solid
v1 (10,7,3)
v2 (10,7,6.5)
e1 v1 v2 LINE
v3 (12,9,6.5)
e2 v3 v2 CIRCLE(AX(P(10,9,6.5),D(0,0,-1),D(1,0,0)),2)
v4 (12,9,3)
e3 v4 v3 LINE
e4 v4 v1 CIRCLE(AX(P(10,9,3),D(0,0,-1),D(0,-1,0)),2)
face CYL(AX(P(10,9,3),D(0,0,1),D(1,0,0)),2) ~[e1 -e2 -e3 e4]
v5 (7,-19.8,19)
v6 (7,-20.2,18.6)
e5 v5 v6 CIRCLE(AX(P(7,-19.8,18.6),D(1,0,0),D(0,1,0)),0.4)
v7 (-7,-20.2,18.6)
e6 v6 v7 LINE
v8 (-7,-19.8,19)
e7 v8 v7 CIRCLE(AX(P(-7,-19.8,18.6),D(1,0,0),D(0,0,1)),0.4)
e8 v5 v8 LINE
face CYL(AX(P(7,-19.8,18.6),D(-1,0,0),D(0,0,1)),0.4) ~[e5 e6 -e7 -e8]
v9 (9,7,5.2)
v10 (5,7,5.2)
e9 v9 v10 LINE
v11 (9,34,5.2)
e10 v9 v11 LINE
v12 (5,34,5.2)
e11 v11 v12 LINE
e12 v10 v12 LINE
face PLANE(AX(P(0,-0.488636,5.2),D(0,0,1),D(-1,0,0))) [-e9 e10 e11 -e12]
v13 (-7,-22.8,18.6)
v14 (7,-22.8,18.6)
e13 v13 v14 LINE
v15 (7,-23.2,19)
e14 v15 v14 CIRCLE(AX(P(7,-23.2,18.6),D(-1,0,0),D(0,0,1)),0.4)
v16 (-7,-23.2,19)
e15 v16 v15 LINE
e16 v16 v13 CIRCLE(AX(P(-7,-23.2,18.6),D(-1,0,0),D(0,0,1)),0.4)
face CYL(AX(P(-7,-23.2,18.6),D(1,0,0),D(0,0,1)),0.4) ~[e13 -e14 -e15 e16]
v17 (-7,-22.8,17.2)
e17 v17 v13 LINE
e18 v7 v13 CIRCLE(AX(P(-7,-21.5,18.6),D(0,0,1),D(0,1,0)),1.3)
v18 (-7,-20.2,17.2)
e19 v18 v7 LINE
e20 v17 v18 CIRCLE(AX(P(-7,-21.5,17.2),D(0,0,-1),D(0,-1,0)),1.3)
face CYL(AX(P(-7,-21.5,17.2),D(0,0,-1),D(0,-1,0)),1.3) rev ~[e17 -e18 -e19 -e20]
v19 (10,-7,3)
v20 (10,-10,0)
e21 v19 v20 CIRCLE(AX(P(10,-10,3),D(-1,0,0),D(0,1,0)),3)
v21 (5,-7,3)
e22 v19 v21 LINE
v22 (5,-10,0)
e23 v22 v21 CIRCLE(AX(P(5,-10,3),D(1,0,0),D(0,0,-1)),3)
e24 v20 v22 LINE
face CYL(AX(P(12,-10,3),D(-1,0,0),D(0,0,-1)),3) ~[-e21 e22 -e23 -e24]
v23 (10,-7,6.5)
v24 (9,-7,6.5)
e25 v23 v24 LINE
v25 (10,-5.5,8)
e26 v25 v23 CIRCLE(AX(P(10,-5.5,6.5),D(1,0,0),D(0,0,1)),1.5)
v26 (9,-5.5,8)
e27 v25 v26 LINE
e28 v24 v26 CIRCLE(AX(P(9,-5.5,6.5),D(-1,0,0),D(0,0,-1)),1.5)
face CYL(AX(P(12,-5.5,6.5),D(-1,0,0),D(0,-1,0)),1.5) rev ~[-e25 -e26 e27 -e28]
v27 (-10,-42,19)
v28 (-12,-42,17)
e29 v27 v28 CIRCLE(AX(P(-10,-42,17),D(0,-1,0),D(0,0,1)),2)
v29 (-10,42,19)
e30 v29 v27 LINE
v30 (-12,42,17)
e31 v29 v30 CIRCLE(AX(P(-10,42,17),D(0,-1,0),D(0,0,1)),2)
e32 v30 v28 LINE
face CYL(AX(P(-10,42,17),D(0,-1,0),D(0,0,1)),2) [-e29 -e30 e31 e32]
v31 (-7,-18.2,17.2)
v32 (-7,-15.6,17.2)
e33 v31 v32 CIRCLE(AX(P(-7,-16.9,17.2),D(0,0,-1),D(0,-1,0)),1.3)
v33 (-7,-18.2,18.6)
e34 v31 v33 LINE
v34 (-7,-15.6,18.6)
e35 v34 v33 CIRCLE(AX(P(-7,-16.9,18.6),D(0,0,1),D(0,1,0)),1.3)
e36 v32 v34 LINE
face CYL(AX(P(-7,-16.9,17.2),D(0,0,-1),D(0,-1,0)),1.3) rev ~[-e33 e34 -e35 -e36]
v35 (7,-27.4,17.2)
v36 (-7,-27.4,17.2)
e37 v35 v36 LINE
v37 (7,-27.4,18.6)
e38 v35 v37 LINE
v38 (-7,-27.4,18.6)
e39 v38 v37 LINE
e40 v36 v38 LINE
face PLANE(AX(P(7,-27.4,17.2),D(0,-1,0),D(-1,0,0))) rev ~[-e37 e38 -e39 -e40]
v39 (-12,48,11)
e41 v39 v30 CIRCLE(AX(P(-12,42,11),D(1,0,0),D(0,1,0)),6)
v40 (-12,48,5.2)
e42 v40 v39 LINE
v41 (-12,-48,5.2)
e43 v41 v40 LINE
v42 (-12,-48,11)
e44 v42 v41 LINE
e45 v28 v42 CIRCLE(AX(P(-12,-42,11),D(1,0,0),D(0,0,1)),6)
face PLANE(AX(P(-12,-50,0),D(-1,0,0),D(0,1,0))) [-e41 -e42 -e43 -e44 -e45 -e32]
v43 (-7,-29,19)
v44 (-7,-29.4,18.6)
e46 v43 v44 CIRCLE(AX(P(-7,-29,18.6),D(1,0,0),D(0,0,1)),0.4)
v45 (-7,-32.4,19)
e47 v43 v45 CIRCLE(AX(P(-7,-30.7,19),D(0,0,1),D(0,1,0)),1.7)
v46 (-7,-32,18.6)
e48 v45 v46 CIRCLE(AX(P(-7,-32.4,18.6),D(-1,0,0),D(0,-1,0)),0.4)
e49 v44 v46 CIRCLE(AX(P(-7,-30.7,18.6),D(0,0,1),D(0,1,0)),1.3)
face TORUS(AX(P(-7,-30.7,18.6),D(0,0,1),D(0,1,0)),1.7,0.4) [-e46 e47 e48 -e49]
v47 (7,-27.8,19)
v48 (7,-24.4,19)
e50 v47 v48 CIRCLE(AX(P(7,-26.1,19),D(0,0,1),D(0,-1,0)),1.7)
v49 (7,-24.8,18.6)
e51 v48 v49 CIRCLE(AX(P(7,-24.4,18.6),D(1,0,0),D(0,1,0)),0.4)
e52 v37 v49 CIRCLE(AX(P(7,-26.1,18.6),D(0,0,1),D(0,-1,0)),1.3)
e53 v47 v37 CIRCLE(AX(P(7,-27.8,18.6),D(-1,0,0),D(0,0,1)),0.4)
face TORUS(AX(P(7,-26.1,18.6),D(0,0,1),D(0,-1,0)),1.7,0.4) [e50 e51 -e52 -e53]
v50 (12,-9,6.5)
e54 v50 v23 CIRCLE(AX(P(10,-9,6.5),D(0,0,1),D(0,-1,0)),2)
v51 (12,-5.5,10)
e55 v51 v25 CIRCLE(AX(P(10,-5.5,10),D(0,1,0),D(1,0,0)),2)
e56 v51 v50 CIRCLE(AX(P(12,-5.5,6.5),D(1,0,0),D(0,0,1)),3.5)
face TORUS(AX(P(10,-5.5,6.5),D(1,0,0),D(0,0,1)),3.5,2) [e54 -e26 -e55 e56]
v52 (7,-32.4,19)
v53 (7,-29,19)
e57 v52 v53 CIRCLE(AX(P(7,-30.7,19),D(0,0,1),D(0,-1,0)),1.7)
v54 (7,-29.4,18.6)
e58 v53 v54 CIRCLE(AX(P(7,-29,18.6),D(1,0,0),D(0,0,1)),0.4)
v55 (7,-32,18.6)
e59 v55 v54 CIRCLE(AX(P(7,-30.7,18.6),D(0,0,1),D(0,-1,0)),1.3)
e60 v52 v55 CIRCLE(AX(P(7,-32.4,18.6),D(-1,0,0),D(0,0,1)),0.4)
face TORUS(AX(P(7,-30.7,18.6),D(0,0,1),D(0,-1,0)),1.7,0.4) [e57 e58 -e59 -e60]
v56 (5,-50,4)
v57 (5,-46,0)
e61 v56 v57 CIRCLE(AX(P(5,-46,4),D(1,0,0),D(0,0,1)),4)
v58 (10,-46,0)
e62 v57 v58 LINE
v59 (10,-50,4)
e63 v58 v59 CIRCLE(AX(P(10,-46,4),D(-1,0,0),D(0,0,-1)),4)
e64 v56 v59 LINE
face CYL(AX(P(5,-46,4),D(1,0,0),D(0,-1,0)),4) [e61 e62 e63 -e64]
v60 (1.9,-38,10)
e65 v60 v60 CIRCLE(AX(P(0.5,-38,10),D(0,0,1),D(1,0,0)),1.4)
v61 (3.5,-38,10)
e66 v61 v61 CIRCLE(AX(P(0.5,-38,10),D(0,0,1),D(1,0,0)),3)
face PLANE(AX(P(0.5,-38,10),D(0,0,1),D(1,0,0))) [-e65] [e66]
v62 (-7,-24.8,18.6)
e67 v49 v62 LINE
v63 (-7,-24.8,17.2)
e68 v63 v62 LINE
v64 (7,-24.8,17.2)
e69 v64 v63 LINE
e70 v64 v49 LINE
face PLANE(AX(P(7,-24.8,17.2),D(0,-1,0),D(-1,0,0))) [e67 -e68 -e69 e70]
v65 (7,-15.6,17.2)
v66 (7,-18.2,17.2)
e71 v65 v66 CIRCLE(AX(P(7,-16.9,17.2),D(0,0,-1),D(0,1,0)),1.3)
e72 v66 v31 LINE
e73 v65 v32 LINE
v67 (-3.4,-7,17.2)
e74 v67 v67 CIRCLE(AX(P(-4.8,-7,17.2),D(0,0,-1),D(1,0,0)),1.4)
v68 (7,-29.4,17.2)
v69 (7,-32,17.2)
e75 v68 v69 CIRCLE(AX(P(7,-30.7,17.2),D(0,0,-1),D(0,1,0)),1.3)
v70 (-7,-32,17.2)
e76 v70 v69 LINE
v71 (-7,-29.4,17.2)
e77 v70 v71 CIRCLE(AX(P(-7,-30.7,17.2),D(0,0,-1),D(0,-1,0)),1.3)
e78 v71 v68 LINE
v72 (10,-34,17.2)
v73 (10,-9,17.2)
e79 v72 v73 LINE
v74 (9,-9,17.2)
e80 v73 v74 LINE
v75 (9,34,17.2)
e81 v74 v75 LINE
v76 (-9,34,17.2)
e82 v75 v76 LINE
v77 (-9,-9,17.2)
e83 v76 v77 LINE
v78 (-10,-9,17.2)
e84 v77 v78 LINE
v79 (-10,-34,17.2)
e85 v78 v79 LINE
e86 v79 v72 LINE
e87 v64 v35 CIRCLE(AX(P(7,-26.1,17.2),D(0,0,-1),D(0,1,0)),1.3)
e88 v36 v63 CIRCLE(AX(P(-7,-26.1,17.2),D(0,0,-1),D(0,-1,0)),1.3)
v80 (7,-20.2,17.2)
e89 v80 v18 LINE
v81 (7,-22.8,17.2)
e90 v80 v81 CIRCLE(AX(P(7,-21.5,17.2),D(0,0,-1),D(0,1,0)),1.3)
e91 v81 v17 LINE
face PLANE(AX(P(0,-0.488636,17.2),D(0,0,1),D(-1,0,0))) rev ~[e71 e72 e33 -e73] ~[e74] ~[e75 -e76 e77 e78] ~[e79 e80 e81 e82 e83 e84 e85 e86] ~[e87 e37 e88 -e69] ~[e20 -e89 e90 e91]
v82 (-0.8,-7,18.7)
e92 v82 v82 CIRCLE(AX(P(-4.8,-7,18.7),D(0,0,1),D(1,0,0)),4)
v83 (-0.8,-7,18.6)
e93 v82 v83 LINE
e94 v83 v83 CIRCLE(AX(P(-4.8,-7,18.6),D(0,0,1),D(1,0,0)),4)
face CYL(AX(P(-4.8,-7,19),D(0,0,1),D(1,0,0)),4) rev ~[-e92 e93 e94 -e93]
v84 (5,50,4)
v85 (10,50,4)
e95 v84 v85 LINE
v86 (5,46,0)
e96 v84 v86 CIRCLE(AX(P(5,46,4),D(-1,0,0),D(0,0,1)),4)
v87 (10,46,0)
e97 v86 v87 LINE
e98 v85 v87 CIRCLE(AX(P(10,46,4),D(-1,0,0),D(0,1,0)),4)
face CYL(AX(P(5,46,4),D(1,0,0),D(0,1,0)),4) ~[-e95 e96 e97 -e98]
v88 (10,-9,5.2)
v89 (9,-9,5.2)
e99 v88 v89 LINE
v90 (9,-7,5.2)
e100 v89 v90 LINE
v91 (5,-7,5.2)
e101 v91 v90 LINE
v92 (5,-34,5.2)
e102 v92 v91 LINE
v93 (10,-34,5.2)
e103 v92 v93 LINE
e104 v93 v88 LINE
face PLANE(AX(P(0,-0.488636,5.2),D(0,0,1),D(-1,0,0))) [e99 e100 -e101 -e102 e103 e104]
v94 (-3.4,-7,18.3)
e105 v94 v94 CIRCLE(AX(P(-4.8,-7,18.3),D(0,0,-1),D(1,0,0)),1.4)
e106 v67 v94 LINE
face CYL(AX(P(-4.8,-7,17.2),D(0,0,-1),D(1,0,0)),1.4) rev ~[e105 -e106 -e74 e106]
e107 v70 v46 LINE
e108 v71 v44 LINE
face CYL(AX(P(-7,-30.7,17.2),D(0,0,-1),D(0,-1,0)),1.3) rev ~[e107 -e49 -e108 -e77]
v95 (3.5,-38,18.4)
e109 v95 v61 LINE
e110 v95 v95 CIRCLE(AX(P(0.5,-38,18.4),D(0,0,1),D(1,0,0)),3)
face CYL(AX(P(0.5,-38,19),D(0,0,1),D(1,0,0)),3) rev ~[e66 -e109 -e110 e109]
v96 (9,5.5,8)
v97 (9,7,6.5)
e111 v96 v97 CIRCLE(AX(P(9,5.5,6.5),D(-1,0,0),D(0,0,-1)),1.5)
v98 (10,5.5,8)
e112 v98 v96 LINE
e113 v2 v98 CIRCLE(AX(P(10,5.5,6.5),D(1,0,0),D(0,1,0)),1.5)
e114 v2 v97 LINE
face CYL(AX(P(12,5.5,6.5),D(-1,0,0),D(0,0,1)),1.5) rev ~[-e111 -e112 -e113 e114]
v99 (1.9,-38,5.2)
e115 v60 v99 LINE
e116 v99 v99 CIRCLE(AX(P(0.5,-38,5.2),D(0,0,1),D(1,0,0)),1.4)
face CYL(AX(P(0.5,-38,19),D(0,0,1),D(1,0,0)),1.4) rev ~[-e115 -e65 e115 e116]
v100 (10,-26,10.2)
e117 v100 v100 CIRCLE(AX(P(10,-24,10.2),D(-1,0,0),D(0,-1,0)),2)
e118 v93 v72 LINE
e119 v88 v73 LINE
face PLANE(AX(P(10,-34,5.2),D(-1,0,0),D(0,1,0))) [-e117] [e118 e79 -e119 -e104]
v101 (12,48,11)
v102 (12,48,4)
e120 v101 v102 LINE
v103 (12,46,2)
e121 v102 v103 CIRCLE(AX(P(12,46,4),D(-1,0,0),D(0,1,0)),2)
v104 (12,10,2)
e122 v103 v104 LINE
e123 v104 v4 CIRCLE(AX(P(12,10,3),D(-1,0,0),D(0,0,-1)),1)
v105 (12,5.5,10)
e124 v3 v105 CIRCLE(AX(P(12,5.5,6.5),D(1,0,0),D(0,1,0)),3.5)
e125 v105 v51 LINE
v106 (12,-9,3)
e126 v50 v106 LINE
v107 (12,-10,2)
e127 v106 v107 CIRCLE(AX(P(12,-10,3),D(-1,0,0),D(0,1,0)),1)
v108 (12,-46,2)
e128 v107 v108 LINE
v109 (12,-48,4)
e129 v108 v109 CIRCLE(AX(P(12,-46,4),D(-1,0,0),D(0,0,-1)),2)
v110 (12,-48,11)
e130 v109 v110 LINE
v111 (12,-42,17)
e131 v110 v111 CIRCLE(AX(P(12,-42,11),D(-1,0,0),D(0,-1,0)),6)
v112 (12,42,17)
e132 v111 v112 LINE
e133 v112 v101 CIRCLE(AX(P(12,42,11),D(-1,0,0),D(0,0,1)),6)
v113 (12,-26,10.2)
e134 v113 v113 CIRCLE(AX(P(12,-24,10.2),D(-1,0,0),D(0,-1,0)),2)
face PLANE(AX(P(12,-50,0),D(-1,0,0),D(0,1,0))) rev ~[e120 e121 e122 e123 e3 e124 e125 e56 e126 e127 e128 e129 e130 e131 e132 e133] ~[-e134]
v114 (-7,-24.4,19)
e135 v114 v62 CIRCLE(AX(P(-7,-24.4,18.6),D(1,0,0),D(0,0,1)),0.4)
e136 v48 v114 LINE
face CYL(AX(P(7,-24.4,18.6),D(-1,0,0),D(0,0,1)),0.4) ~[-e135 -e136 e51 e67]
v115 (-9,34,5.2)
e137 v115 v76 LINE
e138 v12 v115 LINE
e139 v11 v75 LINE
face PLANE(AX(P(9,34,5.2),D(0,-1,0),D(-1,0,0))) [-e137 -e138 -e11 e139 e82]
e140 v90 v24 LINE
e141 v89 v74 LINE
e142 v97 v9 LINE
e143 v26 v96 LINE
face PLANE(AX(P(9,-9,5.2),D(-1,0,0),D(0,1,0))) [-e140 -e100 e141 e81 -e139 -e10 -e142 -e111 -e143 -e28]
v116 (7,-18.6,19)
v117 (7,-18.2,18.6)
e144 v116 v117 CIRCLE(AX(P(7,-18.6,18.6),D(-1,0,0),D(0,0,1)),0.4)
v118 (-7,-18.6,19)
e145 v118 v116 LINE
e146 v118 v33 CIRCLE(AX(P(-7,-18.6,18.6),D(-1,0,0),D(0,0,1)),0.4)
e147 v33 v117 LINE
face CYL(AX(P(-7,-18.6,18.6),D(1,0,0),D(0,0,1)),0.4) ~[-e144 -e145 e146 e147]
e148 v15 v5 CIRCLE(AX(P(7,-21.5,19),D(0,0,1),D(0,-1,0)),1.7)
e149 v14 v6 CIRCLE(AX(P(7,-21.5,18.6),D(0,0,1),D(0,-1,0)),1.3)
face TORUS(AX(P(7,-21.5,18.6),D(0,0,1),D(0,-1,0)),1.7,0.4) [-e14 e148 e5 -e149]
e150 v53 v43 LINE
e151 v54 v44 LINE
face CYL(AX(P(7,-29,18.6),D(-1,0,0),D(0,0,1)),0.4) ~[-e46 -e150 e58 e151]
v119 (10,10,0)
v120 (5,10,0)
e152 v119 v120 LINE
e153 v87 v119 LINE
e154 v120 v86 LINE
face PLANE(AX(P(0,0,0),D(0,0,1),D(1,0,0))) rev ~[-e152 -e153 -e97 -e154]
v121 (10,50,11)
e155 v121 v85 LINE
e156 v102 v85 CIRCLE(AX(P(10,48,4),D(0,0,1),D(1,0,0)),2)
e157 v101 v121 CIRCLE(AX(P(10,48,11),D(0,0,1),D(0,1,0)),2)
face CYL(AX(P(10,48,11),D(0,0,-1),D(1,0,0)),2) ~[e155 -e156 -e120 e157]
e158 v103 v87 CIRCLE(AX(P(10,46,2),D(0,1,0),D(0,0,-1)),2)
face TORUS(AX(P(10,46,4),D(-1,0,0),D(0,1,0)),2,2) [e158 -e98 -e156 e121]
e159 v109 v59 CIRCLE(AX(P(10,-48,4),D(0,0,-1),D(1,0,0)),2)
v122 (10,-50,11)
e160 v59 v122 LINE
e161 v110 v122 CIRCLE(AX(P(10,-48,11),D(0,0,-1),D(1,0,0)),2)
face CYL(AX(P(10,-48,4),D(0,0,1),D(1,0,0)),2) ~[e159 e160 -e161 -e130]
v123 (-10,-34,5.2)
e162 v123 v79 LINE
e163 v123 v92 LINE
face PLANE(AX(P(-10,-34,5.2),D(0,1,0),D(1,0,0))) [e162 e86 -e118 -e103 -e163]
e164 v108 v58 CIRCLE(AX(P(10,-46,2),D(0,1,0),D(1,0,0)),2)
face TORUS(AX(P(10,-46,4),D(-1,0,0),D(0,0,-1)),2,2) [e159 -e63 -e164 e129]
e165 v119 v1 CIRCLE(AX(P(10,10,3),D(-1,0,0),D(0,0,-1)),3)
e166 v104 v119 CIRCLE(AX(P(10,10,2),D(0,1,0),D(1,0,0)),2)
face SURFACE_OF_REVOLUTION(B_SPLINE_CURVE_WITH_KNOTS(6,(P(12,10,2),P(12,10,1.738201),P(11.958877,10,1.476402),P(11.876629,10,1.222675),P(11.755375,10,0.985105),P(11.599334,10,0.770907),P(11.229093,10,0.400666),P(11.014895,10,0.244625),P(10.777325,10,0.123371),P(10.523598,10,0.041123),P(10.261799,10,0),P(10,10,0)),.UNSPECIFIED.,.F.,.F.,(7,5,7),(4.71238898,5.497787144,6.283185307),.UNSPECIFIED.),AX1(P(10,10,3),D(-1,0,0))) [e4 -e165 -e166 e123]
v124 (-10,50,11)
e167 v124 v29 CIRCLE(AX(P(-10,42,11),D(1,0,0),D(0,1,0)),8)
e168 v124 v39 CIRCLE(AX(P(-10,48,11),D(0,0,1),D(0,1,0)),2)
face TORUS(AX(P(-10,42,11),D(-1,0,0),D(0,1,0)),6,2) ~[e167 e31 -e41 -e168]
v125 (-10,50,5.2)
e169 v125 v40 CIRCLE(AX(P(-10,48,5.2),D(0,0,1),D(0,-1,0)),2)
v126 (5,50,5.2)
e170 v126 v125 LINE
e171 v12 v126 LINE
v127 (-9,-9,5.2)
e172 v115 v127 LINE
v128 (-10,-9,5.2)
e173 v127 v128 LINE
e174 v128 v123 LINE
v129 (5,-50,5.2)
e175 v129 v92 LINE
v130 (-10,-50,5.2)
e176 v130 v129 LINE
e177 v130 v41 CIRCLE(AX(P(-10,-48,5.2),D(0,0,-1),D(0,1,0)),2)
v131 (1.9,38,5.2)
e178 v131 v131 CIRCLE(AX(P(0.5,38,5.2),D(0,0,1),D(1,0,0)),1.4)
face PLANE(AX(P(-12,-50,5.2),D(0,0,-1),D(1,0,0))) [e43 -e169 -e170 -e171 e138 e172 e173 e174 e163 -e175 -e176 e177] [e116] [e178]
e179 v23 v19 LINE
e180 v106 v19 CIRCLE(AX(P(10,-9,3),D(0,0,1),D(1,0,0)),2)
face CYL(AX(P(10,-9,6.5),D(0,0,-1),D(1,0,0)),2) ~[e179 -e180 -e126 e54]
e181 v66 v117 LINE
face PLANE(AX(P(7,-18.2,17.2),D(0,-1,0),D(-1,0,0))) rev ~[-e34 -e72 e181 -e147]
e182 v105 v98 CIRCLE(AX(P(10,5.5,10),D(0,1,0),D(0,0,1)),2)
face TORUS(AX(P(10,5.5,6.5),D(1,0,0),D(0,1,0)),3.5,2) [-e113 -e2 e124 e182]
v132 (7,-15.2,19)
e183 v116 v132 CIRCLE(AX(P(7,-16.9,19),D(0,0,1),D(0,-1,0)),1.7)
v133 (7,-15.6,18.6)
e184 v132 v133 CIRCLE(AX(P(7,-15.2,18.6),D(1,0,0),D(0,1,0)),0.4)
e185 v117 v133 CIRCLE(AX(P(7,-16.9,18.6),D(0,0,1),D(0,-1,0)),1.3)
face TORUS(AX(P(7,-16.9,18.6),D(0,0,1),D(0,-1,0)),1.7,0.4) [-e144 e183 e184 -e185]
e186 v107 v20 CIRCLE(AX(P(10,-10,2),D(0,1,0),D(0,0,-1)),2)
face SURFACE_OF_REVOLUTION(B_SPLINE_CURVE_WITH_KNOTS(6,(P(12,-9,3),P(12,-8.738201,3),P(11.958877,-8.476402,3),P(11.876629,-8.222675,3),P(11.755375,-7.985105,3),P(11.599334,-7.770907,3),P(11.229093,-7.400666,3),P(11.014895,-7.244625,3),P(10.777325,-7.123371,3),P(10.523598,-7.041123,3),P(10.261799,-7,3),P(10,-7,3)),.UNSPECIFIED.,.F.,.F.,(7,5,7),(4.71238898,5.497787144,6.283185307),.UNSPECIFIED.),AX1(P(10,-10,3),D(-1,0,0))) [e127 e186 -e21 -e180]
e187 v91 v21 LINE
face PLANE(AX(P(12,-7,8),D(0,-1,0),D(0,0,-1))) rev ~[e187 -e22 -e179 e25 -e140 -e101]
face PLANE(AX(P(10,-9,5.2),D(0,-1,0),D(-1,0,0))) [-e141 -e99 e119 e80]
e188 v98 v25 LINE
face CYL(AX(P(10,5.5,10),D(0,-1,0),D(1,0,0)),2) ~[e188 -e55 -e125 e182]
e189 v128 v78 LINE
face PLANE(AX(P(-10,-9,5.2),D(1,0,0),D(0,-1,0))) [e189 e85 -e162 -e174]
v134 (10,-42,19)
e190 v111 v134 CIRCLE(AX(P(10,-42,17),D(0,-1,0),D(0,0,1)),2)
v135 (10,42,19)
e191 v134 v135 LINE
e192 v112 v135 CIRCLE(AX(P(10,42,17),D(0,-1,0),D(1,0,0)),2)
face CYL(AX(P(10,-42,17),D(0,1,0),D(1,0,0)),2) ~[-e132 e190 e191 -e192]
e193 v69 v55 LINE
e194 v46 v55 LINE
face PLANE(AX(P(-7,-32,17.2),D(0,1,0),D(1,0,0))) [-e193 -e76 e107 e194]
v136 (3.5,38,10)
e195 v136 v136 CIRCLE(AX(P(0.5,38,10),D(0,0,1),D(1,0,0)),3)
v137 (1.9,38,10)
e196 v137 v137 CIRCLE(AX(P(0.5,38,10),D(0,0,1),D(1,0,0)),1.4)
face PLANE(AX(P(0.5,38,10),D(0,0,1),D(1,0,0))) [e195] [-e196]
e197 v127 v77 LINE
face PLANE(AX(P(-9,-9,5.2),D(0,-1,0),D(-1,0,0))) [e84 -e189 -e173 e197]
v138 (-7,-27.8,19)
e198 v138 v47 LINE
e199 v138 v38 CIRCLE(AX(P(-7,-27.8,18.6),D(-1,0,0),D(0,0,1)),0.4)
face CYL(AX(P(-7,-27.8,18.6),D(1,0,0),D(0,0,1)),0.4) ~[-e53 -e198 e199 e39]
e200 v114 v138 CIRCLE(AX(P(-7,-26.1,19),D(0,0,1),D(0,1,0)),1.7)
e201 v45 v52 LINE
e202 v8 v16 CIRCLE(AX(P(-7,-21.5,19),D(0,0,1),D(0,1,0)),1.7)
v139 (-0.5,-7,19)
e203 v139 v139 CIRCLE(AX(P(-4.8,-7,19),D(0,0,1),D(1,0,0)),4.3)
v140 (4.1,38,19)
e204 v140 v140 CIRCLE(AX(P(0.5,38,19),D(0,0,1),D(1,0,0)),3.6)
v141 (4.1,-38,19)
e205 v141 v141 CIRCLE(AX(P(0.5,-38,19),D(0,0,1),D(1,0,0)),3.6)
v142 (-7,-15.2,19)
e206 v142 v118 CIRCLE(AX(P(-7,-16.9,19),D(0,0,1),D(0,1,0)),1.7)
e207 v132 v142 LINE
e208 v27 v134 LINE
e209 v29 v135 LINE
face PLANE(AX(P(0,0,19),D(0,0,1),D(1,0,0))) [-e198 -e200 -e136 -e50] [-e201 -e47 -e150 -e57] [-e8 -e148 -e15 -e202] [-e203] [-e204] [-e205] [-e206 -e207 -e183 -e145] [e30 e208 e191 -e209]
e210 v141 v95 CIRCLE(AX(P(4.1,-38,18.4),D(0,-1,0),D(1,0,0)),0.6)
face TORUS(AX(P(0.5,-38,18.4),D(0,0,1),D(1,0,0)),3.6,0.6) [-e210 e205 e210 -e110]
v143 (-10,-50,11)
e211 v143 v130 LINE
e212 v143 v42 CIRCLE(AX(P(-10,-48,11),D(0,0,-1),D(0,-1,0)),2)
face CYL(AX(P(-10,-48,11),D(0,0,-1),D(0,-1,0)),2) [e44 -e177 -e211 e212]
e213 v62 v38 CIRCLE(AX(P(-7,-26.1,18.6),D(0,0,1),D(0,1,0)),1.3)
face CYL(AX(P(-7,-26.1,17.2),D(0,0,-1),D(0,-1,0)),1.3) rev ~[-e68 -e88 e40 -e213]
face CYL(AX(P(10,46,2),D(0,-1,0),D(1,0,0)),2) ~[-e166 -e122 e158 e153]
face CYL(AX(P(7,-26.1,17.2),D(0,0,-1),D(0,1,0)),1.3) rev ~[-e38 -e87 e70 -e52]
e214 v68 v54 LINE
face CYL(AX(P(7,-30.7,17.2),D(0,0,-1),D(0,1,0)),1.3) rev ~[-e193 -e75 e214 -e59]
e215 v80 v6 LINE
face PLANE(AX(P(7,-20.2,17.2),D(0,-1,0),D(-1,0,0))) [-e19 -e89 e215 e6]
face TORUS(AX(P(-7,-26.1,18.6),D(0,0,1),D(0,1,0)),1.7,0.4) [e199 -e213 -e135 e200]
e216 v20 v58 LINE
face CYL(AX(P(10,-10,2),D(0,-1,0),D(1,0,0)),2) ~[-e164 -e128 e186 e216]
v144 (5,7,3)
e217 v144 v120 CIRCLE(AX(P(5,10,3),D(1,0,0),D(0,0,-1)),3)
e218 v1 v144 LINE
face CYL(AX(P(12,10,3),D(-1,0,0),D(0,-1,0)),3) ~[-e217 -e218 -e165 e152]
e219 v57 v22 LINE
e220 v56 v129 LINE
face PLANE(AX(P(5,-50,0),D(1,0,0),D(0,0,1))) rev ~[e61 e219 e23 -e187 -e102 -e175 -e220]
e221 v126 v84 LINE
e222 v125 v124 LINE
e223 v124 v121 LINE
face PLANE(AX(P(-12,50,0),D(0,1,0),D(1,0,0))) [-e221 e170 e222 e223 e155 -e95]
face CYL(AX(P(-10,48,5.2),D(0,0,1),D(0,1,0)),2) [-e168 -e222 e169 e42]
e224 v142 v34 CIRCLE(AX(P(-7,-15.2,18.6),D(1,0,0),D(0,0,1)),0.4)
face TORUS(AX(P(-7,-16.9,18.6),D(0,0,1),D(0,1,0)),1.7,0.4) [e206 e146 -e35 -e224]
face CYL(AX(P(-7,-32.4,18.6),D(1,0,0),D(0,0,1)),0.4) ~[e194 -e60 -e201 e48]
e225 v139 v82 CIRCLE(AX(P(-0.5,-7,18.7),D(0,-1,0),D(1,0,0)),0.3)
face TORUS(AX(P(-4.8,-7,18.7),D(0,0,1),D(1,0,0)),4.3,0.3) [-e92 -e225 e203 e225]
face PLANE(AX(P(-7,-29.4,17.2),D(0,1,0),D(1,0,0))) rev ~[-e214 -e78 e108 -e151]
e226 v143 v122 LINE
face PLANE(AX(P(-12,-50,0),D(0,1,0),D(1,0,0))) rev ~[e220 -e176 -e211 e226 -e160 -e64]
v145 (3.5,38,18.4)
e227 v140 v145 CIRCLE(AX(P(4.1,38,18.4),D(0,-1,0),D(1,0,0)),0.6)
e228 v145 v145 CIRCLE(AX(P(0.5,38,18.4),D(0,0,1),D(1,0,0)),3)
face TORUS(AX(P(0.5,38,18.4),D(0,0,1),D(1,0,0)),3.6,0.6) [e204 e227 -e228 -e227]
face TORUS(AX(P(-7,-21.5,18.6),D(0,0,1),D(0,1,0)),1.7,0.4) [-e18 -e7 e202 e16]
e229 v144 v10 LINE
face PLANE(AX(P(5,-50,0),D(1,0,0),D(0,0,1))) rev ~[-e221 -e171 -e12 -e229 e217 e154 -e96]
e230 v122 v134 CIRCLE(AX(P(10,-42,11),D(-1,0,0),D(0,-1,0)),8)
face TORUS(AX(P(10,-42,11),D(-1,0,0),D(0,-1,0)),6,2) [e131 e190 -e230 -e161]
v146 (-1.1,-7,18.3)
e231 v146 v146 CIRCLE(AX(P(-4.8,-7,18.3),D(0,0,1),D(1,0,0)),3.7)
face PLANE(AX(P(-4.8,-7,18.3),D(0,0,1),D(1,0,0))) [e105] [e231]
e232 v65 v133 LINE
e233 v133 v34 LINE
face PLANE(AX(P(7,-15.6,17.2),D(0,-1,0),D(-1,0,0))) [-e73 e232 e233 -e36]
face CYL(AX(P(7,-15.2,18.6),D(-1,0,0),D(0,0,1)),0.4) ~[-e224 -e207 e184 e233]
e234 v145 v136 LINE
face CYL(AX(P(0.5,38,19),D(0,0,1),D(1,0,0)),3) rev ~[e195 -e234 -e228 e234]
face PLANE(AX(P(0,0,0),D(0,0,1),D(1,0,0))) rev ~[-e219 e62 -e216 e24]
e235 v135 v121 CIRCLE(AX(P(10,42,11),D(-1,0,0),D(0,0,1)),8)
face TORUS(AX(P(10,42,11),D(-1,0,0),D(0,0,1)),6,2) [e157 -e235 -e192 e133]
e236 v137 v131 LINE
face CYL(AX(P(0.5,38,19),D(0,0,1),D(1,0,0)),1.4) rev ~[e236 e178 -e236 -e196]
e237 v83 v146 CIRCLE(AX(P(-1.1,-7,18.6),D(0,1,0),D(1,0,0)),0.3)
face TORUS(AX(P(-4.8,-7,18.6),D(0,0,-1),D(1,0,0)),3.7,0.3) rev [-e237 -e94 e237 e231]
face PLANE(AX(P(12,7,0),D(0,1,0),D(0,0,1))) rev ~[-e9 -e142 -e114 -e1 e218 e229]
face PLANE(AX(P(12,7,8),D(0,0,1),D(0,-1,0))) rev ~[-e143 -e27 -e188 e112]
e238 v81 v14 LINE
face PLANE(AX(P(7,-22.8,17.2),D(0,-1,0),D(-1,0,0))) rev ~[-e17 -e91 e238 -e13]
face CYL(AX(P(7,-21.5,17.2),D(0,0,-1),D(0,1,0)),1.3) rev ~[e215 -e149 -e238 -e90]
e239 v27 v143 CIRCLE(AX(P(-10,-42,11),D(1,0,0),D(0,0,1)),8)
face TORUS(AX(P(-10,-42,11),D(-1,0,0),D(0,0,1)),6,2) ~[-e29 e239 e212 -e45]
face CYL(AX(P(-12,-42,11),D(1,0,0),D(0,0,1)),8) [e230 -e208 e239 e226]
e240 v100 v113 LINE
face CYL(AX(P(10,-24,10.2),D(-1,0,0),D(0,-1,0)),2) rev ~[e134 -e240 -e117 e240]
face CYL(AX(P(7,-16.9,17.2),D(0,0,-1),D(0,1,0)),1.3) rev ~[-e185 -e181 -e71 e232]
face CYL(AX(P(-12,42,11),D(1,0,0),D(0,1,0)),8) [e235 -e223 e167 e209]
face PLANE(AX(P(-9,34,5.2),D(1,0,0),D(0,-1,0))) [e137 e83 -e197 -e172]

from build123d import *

# Parameters (mm, degrees)
SKETCH_W        = 24
SKETCH_H        = 100
PAD_DEPTH       = 19
SKETCH001_W     = 17
SKETCH001_H     = 5.2
POCKET_DEPTH    = 100.001
SKETCH002_R     = 1.4
POCKET001_DEPTH = 19.001
SKETCH003_R     = 3
POCKET002_DEPTH = 9
POCKET003_DEPTH = 12
POCKET004_DEPTH = 10
SKETCH007_R     = 1.4
POCKET005_DEPTH = 1.801
SKETCH008_R     = 2
POCKET006_DEPTH = 2.001
POCKET007_DEPTH = 1.801
FILLET_R        = 8
FILLET001_R     = 4
SKETCH010_R     = 4
POCKET008_DEPTH = 0.7
FILLET002_R     = 3
FILLET003_R     = 1.5
FILLET004_R     = 2
FILLET005_R     = 0.3
FILLET006_R     = 0.6
FILLET007_R     = 0.4


with BuildPart() as part:
    # Sketch → Pad (new body)
    with BuildSketch(Plane.XY):
        Rectangle(SKETCH_W, SKETCH_H)
    extrude(amount=PAD_DEPTH)

    # Sketch001 → Pocket (cut, through all)
    with BuildSketch(Plane.XZ.offset(50)):
        with Locations((-3.5, 2.6)):
            Rectangle(SKETCH001_W, SKETCH001_H)
    extrude(amount=-POCKET_DEPTH, mode=Mode.SUBTRACT)

    # Sketch002 → Pocket001 (cut, through all)
    with BuildSketch(Plane.XY.offset(19)):
        with Locations((0.5, 38)):
            Circle(SKETCH002_R)
        with Locations((0.5, -38)):
            Circle(SKETCH002_R)
    extrude(amount=-POCKET001_DEPTH, mode=Mode.SUBTRACT)

    # Sketch003 → Pocket002 (cut)
    with BuildSketch(Plane.XY.offset(19)):
        with Locations((0.5, -38)):
            Circle(SKETCH003_R)
        with Locations((0.5, 38)):
            Circle(SKETCH003_R)
    extrude(amount=-POCKET002_DEPTH, mode=Mode.SUBTRACT)

    # Sketch005 → Pocket003 (cut)
    with BuildSketch(Plane(origin=(0, 0, 5.2), x_dir=(1, 0, 0), z_dir=(0, 0, -1))):
        Polygon((-10, 34), (10, 34), (10, 9), (9, 9), (9, -34), (-9, -34), (-9, 9), (-10, 9), align=None)
    extrude(amount=-POCKET003_DEPTH, mode=Mode.SUBTRACT)

    # Sketch006 → Pocket004 (cut)
    with BuildSketch(Plane.YZ.offset(12)):
        Polygon((0, 0), (7, 0), (7, 8), (-7, 8), (-7, 0), align=None)
    extrude(amount=-POCKET004_DEPTH, mode=Mode.SUBTRACT)

    # Sketch007 → Pocket005 (cut, through all)
    with BuildSketch(Plane(origin=(0, 0, 17.2), x_dir=(1, 0, 0), z_dir=(0, 0, -1))):
        with Locations((-4.8, 7)):
            Circle(SKETCH007_R)
    extrude(amount=-POCKET005_DEPTH, mode=Mode.SUBTRACT)

    # Sketch008 → Pocket006 (cut, through all)
    with BuildSketch(Plane(origin=(10, 0, 0), x_dir=(0, -1, 0), z_dir=(-1, 0, 0))):
        with Locations((24, 10.2)):
            Circle(SKETCH008_R)
    extrude(amount=-POCKET006_DEPTH, mode=Mode.SUBTRACT)

    # Sketch009 → Pocket007 (cut, through all)
    with BuildSketch(Plane(origin=(0, 0, 17.2), x_dir=(1, 0, 0), z_dir=(0, 0, -1))):
        with BuildLine():
            ThreePointArc((-7, 32), (-8.3, 30.7), (-7, 29.4))
            Line((-7, 29.4), (7, 29.4))
            ThreePointArc((7, 29.4), (8.3, 30.7), (7, 32))
            Line((-7, 32), (7, 32))
        make_face()
        with BuildLine():
            ThreePointArc((7, 24.8), (8.3, 26.1), (7, 27.4))
            Line((7, 27.4), (-7, 27.4))
            ThreePointArc((-7, 27.4), (-8.3, 26.1), (-7, 24.8))
            Line((7, 24.8), (-7, 24.8))
        make_face()
        with BuildLine():
            ThreePointArc((7, 20.2), (8.3, 21.5), (7, 22.8))
            Line((7, 22.8), (-7, 22.8))
            ThreePointArc((-7, 22.8), (-8.3, 21.5), (-7, 20.2))
            Line((7, 20.2), (-7, 20.2))
        make_face()
        with BuildLine():
            ThreePointArc((7, 15.6), (8.3, 16.9), (7, 18.2))
            Line((7, 18.2), (-7, 18.2))
            ThreePointArc((-7, 18.2), (-8.3, 16.9), (-7, 15.6))
            Line((7, 15.6), (-7, 15.6))
        make_face()
    extrude(amount=-POCKET007_DEPTH, mode=Mode.SUBTRACT)

    # Fillet
    fillet_edges = [part.edges().sort_by_distance(p)[0] for p in [
        (0, 50, 19),
        (0, -50, 19),
    ]]
    fillet(fillet_edges, radius=FILLET_R)

    # Fillet001
    fillet001_edges = [part.edges().sort_by_distance(p)[0] for p in [
        (8.5, 50, 0),
        (8.5, -50, 0),
    ]]
    fillet(fillet001_edges, radius=FILLET001_R)

    # Sketch010 → Pocket008 (cut)
    with BuildSketch(Plane.XY.offset(19)):
        with Locations((-4.8, -7)):
            Circle(SKETCH010_R)
    extrude(amount=-POCKET008_DEPTH, mode=Mode.SUBTRACT)

    # Fillet002
    fillet002_edges = [part.edges().sort_by_distance(p)[0] for p in [
        (8.5, -7, 0),
        (8.5, 7, 0),
    ]]
    fillet(fillet002_edges, radius=FILLET002_R)

    # Fillet003
    fillet003_edges = [part.edges().sort_by_distance(p)[0] for p in [
        (10.5, 7, 8),
        (10.5, -7, 8),
    ]]
    fillet(fillet003_edges, radius=FILLET003_R)

    # Fillet004
    fillet004_edges = [part.edges().sort_by_distance(p)[0] for p in [
        (12, -50, 7.5),
        (12, -48.828427, 1.171573),
        (12, -47.656854, 16.656854),
        (12, 0, 19),
        (12, 47.656854, 16.656854),
        (12, 50, 7.5),
        (12, 48.828427, 1.171573),
        (12, 28, 0),
        (12, 7.87868, 0.87868),
        (12, 7, 4.75),
        (12, 6.56066, 7.56066),
        (12, 0, 8),
        (12, -6.56066, 7.56066),
        (12, -7, 4.75),
        (12, -7.87868, 0.87868),
        (12, -28, 0),
        (-12, 50, 8.1),
        (-12, 47.656854, 16.656854),
        (-12, 0, 19),
        (-12, -47.656854, 16.656854),
        (-12, -50, 8.1),
    ]]
    fillet(fillet004_edges, radius=FILLET004_R)

    # Fillet005
    fillet005_edges = [part.edges().sort_by_distance(p)[0] for p in [
        (-8.8, -7, 19),
        (-8.8, -7, 18.3),
    ]]
    fillet(fillet005_edges, radius=FILLET005_R)

    # Fillet006
    fillet006_edges = [part.edges().sort_by_distance(p)[0] for p in [
        (-2.5, -38, 19),
        (-2.5, 38, 19),
    ]]
    fillet(fillet006_edges, radius=FILLET006_R)

    # Fillet007
    fillet007_edges = [part.edges().sort_by_distance(p)[0] for p in [
        (0, -29.4, 19),
        (-8.3, -30.7, 19),
        (0, -32, 19),
        (8.3, -30.7, 19),
        (0, -27.4, 19),
        (8.3, -26.1, 19),
        (0, -24.8, 19),
        (-8.3, -26.1, 19),
        (0, -22.8, 19),
        (0, -20.2, 19),
        (-8.3, -21.5, 19),
        (8.3, -21.5, 19),
        (0, -18.2, 19),
        (-8.3, -16.9, 19),
        (0, -15.6, 19),
        (8.3, -16.9, 19),
    ]]
    fillet(fillet007_edges, radius=FILLET007_R)


solid = part.part
